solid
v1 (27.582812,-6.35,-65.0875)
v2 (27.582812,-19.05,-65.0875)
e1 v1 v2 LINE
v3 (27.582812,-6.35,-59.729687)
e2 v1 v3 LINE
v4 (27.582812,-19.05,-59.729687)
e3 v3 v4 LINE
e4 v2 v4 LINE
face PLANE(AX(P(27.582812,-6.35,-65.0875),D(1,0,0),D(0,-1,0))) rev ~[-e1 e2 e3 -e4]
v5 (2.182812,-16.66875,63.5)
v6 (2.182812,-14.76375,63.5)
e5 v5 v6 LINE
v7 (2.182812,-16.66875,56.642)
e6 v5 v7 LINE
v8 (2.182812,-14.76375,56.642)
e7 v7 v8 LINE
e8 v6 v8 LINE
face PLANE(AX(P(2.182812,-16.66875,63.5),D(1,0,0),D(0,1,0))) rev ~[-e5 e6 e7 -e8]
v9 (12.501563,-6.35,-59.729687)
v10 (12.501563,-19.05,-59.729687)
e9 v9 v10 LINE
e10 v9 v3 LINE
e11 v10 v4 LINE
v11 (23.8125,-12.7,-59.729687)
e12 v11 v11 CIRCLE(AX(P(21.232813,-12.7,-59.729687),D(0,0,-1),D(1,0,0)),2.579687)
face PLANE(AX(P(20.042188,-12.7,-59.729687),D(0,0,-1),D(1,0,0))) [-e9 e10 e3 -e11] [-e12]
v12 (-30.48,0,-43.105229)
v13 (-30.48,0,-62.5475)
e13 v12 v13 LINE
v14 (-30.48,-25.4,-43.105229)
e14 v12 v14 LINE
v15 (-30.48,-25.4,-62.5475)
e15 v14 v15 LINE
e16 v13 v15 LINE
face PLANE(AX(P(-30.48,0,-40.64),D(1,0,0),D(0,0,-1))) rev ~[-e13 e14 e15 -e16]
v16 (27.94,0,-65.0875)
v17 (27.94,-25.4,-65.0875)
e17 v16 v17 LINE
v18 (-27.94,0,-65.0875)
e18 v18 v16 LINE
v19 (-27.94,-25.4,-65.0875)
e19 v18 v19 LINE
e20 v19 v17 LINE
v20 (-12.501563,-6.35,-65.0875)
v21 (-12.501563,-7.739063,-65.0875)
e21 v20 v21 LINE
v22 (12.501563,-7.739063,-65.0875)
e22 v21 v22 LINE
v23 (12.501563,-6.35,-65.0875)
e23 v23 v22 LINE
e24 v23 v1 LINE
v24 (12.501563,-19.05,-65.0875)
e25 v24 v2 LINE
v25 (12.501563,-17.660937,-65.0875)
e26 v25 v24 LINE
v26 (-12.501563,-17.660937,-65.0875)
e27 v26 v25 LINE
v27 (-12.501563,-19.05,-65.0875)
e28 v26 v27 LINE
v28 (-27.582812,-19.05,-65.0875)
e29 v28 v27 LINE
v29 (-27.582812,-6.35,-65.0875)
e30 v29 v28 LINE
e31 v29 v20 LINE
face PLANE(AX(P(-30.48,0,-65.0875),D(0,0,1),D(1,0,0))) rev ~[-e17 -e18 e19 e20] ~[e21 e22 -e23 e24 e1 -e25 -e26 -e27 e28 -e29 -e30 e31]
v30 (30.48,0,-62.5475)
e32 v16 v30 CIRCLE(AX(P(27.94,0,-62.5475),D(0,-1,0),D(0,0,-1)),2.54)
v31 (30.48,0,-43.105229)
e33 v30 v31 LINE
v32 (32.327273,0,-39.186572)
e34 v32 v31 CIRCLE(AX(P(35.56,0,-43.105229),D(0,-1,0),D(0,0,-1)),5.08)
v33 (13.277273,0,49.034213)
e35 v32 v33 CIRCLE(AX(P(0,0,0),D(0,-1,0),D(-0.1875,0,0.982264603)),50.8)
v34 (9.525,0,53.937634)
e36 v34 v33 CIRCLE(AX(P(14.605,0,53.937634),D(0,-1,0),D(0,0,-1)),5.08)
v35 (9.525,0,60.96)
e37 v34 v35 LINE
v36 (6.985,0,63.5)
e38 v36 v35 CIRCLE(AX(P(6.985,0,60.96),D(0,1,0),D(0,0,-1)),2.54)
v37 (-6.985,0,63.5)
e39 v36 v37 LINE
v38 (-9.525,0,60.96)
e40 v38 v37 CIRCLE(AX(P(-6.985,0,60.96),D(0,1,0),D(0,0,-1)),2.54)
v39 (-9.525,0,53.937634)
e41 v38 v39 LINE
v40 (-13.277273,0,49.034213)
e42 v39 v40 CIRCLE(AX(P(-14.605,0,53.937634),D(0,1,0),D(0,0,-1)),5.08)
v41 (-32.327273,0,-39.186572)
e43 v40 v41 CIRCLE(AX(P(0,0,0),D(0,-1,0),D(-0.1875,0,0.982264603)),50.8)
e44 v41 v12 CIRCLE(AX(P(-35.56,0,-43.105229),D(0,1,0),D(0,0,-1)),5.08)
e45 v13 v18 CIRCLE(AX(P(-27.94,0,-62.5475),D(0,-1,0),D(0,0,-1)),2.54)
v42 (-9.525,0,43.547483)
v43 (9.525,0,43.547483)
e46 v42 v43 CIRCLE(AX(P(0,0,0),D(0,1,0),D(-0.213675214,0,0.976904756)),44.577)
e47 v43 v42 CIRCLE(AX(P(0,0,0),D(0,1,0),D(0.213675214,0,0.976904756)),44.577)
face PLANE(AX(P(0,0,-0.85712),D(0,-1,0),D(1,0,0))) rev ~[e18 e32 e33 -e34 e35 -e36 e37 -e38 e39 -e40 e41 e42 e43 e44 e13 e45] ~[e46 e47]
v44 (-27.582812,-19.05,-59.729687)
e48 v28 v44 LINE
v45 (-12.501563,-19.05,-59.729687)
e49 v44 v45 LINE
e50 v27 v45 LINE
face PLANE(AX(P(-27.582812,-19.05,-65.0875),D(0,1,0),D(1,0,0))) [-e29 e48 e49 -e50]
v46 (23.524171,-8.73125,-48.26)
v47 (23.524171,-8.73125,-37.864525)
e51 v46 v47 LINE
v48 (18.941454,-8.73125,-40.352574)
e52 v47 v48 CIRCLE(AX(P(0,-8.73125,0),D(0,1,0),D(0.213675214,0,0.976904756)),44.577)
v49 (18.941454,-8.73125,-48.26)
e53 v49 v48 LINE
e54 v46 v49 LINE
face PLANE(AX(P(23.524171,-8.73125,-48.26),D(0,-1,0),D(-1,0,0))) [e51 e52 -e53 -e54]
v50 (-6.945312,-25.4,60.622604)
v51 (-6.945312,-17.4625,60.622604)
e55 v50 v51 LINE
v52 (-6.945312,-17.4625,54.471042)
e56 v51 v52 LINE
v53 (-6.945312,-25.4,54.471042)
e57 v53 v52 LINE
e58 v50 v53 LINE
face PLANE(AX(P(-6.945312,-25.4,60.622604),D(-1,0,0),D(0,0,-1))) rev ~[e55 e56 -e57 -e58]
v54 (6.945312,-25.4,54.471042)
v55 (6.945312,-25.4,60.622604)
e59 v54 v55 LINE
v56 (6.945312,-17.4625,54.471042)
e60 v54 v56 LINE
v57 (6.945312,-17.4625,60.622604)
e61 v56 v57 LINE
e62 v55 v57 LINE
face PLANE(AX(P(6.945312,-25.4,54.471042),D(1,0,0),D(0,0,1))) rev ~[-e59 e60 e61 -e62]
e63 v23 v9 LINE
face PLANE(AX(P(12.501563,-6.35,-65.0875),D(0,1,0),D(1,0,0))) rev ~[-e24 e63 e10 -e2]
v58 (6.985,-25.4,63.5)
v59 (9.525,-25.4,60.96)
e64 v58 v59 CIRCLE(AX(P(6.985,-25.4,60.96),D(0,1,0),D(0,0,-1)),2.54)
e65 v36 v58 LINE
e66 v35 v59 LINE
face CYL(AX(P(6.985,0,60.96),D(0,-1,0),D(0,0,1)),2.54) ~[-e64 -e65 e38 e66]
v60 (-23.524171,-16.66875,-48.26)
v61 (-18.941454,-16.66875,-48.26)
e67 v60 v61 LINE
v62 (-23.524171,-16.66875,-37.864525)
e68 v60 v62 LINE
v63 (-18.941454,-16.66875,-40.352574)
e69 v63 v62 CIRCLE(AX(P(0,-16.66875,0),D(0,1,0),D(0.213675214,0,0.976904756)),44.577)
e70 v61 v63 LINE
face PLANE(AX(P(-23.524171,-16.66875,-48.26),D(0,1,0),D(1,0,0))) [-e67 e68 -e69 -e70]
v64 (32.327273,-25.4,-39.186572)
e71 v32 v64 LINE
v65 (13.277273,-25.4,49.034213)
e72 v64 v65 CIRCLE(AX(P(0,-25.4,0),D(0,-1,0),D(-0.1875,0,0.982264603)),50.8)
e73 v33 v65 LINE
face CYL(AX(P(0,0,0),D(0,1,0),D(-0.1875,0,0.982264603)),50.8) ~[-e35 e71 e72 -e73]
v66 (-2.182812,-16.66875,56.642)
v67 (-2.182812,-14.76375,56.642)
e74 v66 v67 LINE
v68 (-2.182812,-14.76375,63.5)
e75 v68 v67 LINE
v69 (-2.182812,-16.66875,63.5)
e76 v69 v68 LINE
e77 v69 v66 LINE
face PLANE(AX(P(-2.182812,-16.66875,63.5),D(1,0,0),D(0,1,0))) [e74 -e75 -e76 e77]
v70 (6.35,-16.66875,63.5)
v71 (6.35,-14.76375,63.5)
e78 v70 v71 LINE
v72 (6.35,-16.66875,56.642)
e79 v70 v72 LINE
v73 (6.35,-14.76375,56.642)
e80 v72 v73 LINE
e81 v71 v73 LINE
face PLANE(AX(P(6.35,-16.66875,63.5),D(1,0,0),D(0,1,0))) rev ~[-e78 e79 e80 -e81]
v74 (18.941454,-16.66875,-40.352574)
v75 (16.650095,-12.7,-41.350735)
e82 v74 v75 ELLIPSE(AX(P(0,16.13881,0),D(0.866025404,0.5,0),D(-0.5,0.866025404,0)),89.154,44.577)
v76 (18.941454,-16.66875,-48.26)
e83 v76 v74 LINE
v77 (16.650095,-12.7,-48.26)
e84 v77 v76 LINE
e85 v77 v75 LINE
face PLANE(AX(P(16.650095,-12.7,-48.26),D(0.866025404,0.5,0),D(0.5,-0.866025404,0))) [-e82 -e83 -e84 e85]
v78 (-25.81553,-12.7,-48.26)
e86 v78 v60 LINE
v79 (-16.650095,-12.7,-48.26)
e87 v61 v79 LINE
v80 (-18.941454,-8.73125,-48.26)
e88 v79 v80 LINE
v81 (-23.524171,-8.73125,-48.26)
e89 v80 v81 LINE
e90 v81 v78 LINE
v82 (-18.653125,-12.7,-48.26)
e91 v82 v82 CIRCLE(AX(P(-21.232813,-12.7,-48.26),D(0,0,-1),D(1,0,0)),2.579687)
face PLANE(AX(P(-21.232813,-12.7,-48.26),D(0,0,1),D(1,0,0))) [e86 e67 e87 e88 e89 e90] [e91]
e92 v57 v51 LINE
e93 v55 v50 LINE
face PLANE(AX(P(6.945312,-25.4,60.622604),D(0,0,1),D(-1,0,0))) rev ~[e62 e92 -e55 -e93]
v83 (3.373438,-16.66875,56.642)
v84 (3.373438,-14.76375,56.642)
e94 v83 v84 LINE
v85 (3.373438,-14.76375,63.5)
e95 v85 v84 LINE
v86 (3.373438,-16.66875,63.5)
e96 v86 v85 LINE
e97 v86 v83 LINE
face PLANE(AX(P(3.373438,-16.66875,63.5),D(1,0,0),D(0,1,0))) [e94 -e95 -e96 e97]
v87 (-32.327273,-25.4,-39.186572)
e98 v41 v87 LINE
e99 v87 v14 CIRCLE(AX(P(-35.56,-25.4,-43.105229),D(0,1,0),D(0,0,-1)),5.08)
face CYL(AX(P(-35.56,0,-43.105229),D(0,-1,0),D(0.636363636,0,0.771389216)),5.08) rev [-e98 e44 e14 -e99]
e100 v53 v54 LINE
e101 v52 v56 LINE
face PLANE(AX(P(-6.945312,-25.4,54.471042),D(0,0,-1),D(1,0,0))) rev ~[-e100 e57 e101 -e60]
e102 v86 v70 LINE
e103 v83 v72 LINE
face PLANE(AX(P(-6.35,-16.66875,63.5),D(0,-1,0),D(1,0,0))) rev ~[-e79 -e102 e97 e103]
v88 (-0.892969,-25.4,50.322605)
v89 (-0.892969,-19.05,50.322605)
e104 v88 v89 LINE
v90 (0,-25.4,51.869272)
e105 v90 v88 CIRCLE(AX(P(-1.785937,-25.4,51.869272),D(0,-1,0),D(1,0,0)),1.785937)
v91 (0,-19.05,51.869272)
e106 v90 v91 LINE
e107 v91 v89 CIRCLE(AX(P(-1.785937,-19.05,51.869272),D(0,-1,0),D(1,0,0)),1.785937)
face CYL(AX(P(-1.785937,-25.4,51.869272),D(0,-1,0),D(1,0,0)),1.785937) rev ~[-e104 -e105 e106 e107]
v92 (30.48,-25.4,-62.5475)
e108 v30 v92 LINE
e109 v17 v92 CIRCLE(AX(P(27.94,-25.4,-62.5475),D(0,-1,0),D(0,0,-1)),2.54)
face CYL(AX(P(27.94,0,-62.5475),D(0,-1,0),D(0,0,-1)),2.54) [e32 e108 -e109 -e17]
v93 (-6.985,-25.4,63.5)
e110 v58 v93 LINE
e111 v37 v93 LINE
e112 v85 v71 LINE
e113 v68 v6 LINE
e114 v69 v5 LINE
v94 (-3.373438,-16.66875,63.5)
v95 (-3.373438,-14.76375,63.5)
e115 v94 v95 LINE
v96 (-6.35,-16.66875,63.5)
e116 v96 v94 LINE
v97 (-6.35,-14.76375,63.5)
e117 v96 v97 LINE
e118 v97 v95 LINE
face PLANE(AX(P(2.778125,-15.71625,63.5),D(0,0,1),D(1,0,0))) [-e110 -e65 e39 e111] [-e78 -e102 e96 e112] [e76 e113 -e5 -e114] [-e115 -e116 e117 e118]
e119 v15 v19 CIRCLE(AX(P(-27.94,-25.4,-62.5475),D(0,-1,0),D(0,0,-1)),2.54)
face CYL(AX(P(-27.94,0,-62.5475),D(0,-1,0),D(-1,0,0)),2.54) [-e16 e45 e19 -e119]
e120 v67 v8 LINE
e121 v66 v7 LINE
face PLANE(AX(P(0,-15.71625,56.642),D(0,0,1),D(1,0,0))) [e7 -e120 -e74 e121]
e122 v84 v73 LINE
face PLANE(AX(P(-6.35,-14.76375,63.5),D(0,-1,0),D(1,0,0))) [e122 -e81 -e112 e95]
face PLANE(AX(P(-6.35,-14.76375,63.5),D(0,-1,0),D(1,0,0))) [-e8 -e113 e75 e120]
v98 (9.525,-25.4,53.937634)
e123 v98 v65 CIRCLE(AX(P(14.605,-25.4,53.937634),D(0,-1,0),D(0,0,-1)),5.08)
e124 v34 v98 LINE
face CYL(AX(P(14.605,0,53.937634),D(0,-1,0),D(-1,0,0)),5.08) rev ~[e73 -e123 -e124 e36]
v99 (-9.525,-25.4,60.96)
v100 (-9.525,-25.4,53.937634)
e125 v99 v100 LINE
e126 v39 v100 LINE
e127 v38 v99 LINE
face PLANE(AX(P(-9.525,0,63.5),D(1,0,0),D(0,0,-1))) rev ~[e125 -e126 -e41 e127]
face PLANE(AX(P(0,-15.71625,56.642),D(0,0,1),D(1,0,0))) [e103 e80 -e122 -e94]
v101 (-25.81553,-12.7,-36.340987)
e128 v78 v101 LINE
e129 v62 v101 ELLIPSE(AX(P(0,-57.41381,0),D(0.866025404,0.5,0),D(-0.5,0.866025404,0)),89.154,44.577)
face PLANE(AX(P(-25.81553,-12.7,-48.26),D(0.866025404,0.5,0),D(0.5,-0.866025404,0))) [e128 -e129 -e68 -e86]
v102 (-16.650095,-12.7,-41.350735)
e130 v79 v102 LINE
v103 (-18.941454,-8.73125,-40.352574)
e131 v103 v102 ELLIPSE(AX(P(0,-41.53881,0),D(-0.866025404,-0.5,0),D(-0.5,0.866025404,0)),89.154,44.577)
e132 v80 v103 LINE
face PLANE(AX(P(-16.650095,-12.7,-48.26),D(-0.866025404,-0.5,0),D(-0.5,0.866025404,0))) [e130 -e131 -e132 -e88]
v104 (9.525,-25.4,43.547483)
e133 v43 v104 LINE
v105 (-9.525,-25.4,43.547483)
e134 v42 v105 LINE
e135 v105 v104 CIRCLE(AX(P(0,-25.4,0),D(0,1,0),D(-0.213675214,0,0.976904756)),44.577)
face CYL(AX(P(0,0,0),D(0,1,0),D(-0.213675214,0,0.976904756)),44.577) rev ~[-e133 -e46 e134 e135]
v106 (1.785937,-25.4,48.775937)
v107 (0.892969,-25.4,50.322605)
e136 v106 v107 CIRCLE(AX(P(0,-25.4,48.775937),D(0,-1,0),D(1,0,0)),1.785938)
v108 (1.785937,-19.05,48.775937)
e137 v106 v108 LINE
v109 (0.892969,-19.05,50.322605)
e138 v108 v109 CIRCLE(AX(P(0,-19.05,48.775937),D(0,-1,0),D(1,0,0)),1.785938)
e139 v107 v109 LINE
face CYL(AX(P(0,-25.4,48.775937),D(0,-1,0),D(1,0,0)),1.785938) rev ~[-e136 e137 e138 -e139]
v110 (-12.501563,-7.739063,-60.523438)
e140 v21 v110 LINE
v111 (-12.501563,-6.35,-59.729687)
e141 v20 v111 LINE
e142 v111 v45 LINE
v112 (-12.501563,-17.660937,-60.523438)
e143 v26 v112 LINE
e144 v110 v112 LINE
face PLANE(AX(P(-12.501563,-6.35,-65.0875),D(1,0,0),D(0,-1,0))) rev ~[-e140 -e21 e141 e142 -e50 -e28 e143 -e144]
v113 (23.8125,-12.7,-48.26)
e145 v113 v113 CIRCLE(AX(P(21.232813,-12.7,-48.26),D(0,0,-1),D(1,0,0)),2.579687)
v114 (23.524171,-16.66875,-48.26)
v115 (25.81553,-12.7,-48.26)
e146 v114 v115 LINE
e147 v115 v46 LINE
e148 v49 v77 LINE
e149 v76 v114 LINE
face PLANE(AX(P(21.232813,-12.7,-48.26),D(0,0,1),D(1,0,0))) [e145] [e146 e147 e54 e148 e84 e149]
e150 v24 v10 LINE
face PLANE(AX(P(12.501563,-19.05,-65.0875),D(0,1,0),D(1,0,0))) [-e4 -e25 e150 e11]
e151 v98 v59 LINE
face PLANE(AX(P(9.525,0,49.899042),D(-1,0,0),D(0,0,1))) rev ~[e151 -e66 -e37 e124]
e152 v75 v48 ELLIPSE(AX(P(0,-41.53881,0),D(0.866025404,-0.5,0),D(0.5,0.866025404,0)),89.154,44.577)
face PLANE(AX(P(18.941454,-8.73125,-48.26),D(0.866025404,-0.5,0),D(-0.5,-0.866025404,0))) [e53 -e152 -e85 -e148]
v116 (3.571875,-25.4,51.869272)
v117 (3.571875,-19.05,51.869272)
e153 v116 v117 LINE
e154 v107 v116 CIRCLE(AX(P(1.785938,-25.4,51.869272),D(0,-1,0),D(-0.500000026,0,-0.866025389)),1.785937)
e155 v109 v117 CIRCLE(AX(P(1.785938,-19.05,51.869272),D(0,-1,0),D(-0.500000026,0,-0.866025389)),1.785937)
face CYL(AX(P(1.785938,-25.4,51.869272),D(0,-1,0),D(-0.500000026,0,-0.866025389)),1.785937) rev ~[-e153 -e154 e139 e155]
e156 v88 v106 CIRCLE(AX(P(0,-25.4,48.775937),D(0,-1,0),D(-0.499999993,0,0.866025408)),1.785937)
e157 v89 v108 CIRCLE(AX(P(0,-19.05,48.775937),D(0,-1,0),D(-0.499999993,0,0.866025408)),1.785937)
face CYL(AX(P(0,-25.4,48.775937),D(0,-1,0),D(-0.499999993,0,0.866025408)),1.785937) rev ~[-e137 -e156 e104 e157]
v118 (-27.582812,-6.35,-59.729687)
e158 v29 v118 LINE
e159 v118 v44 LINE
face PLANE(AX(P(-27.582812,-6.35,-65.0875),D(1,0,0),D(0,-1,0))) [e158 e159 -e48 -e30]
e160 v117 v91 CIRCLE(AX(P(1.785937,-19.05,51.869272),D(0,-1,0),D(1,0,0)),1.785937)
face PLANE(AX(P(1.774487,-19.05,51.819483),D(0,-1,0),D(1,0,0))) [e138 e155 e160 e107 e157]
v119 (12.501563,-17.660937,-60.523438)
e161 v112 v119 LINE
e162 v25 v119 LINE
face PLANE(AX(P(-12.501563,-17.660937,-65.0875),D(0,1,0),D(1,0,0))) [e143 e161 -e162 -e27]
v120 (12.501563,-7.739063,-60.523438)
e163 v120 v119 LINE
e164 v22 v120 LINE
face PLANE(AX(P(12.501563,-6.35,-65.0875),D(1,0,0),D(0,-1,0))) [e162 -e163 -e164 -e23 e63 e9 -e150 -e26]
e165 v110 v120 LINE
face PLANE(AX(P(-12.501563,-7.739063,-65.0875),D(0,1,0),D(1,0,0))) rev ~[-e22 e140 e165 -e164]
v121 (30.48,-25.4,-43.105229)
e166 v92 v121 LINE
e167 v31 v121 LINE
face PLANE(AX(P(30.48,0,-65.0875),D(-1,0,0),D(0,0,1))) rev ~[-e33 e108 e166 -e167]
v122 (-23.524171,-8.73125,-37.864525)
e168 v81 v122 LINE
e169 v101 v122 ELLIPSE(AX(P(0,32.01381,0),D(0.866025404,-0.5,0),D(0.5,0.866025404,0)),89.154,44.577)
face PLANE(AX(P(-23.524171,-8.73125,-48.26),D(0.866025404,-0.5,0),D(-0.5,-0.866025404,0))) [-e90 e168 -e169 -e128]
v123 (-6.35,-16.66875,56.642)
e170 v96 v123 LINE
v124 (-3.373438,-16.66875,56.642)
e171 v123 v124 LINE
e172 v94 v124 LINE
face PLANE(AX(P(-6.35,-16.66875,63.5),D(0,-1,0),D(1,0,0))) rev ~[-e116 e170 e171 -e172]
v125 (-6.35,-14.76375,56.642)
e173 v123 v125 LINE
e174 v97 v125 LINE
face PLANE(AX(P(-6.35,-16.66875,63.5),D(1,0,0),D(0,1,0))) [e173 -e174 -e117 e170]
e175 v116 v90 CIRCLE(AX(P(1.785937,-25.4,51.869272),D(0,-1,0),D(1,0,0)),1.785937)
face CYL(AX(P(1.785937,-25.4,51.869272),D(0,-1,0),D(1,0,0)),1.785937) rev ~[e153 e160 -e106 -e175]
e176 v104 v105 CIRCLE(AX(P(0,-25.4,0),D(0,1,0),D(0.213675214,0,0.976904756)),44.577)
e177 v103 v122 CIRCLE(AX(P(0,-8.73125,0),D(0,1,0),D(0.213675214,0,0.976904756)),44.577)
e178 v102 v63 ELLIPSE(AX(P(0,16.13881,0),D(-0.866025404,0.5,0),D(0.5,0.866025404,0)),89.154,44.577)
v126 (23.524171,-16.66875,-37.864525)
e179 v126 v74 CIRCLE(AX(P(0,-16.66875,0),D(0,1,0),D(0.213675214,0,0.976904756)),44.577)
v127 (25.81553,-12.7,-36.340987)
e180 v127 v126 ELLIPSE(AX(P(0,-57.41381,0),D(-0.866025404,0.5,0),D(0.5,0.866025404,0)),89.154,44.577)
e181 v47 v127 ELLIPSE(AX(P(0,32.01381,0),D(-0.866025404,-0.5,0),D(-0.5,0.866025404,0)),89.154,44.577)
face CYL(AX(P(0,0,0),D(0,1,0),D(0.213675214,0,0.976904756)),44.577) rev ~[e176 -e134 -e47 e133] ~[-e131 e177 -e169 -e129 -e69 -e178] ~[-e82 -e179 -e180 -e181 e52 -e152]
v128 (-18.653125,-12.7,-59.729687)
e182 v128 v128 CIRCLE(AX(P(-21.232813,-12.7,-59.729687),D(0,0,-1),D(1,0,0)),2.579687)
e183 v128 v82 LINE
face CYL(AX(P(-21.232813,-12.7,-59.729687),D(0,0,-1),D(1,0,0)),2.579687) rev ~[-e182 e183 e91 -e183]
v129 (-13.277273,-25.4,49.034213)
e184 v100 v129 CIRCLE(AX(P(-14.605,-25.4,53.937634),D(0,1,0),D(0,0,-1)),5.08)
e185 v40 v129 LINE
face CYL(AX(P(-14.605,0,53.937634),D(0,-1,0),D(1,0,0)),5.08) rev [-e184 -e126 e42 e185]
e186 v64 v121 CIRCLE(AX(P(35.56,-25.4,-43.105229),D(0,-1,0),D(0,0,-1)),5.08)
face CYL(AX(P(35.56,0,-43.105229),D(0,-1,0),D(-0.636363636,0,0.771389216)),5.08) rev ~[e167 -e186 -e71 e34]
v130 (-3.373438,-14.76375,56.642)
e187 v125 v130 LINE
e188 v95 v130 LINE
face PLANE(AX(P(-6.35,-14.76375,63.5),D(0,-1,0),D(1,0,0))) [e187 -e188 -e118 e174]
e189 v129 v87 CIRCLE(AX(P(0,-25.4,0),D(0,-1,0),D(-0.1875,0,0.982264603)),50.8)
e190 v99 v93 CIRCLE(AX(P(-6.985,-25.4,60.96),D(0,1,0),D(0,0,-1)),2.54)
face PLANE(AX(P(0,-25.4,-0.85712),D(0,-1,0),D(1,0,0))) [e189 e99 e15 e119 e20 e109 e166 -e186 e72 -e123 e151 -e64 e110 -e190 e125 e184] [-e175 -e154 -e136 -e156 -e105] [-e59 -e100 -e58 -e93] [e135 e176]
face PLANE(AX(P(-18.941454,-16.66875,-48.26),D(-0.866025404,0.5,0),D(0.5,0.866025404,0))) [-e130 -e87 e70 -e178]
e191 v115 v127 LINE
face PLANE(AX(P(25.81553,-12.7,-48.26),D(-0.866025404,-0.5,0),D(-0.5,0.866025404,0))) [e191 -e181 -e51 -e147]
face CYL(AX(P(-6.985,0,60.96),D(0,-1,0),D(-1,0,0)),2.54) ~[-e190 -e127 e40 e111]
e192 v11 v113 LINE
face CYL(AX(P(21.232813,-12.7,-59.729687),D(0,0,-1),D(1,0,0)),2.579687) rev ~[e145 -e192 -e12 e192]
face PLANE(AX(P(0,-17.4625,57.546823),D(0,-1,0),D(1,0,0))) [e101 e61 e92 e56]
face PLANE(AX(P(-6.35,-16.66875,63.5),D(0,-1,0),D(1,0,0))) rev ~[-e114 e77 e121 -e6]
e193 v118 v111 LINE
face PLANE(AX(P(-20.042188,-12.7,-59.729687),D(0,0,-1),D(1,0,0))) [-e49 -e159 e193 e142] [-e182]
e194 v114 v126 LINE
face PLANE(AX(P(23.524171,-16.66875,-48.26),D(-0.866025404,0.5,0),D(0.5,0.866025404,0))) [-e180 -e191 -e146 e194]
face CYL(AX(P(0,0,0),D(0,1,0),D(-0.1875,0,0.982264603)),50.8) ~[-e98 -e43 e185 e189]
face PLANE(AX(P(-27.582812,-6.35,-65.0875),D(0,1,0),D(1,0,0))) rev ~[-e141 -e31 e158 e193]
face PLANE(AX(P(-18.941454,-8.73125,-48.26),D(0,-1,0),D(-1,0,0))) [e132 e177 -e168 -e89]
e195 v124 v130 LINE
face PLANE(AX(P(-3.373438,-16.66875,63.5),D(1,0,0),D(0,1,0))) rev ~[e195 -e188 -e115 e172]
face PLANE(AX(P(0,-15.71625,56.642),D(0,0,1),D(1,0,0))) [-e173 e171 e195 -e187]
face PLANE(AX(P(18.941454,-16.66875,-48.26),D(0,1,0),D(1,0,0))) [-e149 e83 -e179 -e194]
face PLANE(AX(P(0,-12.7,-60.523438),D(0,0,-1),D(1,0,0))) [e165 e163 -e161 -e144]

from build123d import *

# Parameters (mm, degrees)
F1_DEPTH  = 25.4
F3_DEPTH  = 6.35
F5_DEPTH  = 7.9375
F6_W      = 12.7
F6_H      = 1.905
F7_DEPTH  = 6.858
F8_W      = 1.190625
F8_H      = 1.905
F9_DEPTH  = 12.7
F11_DEPTH = 25.4
F12_W     = 15.08125
F12_H     = 12.7
F13_DEPTH = 5.3578125
F14_R     = 2.5796875
F15_DEPTH = 25.4
F18_DEPTH = 25.4
F19_W     = 25.003125
F19_H     = 9.921875
F20_DEPTH = 4.5640625
F21_R     = 2.54
F22_R     = 2.54
F23_R     = 5.08


with BuildPart() as f1:
    # F0 (on Front) → F1 (new body)
    with BuildSketch(Plane.XZ):
        with BuildLine():
            ThreePointArc((9.525, 43.5474833257), (34.7253859158, 27.9509660298), (44.577, 0))
            ThreePointArc((44.577, 0), (-27.9509660298, -34.7253859158), (-9.525, 43.5474833257))
            Line((-9.525, 43.5474833257), (-9.525, 49.8990418245))
            ThreePointArc((-9.525, 49.8990418245), (-32.3787739113, -39.1440289189), (50.8, 0))
            ThreePointArc((50.8, 0), (39.1440289189, 32.3787739113), (9.525, 49.8990418245))
            Line((9.525, 49.8990418245), (9.525, 43.5474833257))
        make_face()
        with BuildLine():
            ThreePointArc((-9.525, 43.5474833257), (0, 44.577), (9.525, 43.5474833257))
            Line((9.525, 43.5474833257), (9.525, 49.8990418245))
            ThreePointArc((9.525, 49.8990418245), (0, 50.8), (-9.525, 49.8990418245))
            Line((-9.525, 49.8990418245), (-9.525, 43.5474833257))
        make_face()
        with BuildLine():
            ThreePointArc((-9.525, 49.8990418245), (0, 50.8), (9.525, 49.8990418245))
            Line((9.525, 49.8990418245), (9.525, 63.5))
            Line((9.525, 63.5), (-9.525, 63.5))
            Line((-9.525, 63.5), (-9.525, 49.8990418245))
        make_face()
    extrude(amount=F1_DEPTH)

    # F2 (on face) → F3 (cut)
    with BuildSketch(Plane.XZ.offset(25.4)):
        with BuildLine():
            ThreePointArc((0.8929687032, 50.3226047716), (2.6789062266, 50.322604731), (3.571875, 51.8692719891))
            ThreePointArc((3.571875, 51.8692719891), (1.7859375, 53.6552094891), (0, 51.8692719891))
            ThreePointArc((0, 51.8692719891), (0.2392702419, 50.9763032626), (0.8929687032, 50.3226047716))
        make_face()
        with BuildLine():
            ThreePointArc((-0.8929687383, 50.3226047513), (-0.2392702521, 50.976303245), (0, 51.8692719891))
            ThreePointArc((0, 51.8692719891), (-3.3326047479, 52.7622407333), (-0.8929687383, 50.3226047513))
        make_face()
        with BuildLine():
            ThreePointArc((0.8929687032, 50.3226047716), (0.2392702419, 50.9763032626), (0, 51.8692719891))
            ThreePointArc((0, 51.8692719891), (-0.2392702521, 50.976303245), (-0.8929687383, 50.3226047513))
            ThreePointArc((-0.8929687383, 50.3226047513), (-2.03e-08, 50.561875), (0.8929687032, 50.3226047716))
        make_face()
        with BuildLine():
            ThreePointArc((1.7859375, 48.7759375), (1.546667231, 49.6689062734), (0.8929687032, 50.3226047716))
            ThreePointArc((0.8929687032, 50.3226047716), (-2.03e-08, 50.561875), (-0.8929687383, 50.3226047513))
            ThreePointArc((-0.8929687383, 50.3226047513), (-0.8929687558, 47.2292702588), (1.7859375, 48.7759375))
        make_face()
    extrude(amount=-F3_DEPTH, mode=Mode.SUBTRACT)

    # F4 (on face) → F5 (cut)
    with BuildSketch(Plane.XZ.offset(25.4)):
        Polygon((-6.9453125, 60.6226043245), (-6.9453125, 54.4710418245), (6.9453125, 54.4710418245), (6.9453125, 60.6226043245), align=None)
    extrude(amount=-F5_DEPTH, mode=Mode.SUBTRACT)

    # F6 (on face) → F7 (cut)
    with BuildSketch(Plane.XY.offset(63.5)):
        with Locations((0, -15.71625)):
            Rectangle(F6_W, F6_H)
    extrude(amount=-F7_DEPTH, mode=Mode.SUBTRACT)

    # F8 (on face) → F9 (join)
    with BuildSketch(Plane.XY.offset(63.5)):
        with Locations((2.778125, -15.71625)):
            Rectangle(F8_W, F8_H)
        with Locations((-2.778125, -15.71625)):
            Rectangle(F8_W, F8_H)
    extrude(amount=-F9_DEPTH)

    # F10 (on Front) → F11 (join)
    with BuildSketch(Plane.XZ):
        with BuildLine():
            Line((-30.48, -65.0875), (30.48, -65.0875))
            Line((30.48, -65.0875), (30.48, -40.64))
            ThreePointArc((30.48, -40.64), (0, -50.8), (-30.48, -40.64))
            Line((-30.48, -40.64), (-30.48, -65.0875))
        make_face()
    extrude(amount=F11_DEPTH)

    # F12 (on face) → F13 (cut)
    with BuildSketch(Plane(origin=(0, 0, -65.0875), x_dir=(1, 0, 0), z_dir=(0, 0, -1))):
        with Locations((20.0421875, 12.7)):
            Rectangle(F12_W, F12_H)
        with Locations((-20.0421875, 12.7)):
            Rectangle(F12_W, F12_H)
    extrude(amount=-F13_DEPTH, mode=Mode.SUBTRACT)

    # F14 (on face) → F15 (cut)
    with BuildSketch(Plane(origin=(0, 0, -59.7296875), x_dir=(1, 0, 0), z_dir=(0, 0, -1))):
        with Locations((21.2328125, 12.7)):
            Circle(F14_R)
        with Locations((-21.2328125, 12.7)):
            Circle(F14_R)
    extrude(amount=-F15_DEPTH, mode=Mode.SUBTRACT)

    # F17 (on offset) → F18 (cut)
    with BuildSketch(Plane.XY.offset(-48.26)):
        Polygon((18.9414536192, -16.66875), (23.5241713808, -16.66875), (25.8155302617, -12.7), (23.5241713808, -8.73125), (18.9414536192, -8.73125), (16.6500947383, -12.7), align=None)
        Polygon((-25.8155302617, -12.7), (-23.5241713808, -16.66875), (-18.9414536192, -16.66875), (-16.6500947383, -12.7), (-18.9414536192, -8.73125), (-23.5241713808, -8.73125), align=None)
    extrude(amount=F18_DEPTH, mode=Mode.SUBTRACT)

    # F19 (on face) → F20 (cut)
    with BuildSketch(Plane(origin=(0, 0, -65.0875), x_dir=(1, 0, 0), z_dir=(0, 0, -1))):
        with Locations((0, 12.7)):
            Rectangle(F19_W, F19_H)
    extrude(amount=-F20_DEPTH, mode=Mode.SUBTRACT)

    # F21
    f21_edges = [f1.edges().sort_by_distance(p)[0] for p in [
        (-30.48, -12.7, -65.0875),
        (30.48, -12.7, -65.0875),
    ]]
    fillet(f21_edges, radius=F21_R)

    # F22
    f22_edges = [f1.edges().sort_by_distance(p)[0] for p in [
        (-9.525, -12.7, 63.5),
        (9.525, -12.7, 63.5),
    ]]
    fillet(f22_edges, radius=F22_R)

    # F23
    f23_edges = [f1.edges().sort_by_distance(p)[0] for p in [
        (9.525, -12.7, 49.899042),
        (-9.525, -12.7, 49.899042),
        (30.48, -12.7, -40.64),
        (-30.48, -12.7, -40.64),
    ]]
    fillet(f23_edges, radius=F23_R)


solid = f1.part
